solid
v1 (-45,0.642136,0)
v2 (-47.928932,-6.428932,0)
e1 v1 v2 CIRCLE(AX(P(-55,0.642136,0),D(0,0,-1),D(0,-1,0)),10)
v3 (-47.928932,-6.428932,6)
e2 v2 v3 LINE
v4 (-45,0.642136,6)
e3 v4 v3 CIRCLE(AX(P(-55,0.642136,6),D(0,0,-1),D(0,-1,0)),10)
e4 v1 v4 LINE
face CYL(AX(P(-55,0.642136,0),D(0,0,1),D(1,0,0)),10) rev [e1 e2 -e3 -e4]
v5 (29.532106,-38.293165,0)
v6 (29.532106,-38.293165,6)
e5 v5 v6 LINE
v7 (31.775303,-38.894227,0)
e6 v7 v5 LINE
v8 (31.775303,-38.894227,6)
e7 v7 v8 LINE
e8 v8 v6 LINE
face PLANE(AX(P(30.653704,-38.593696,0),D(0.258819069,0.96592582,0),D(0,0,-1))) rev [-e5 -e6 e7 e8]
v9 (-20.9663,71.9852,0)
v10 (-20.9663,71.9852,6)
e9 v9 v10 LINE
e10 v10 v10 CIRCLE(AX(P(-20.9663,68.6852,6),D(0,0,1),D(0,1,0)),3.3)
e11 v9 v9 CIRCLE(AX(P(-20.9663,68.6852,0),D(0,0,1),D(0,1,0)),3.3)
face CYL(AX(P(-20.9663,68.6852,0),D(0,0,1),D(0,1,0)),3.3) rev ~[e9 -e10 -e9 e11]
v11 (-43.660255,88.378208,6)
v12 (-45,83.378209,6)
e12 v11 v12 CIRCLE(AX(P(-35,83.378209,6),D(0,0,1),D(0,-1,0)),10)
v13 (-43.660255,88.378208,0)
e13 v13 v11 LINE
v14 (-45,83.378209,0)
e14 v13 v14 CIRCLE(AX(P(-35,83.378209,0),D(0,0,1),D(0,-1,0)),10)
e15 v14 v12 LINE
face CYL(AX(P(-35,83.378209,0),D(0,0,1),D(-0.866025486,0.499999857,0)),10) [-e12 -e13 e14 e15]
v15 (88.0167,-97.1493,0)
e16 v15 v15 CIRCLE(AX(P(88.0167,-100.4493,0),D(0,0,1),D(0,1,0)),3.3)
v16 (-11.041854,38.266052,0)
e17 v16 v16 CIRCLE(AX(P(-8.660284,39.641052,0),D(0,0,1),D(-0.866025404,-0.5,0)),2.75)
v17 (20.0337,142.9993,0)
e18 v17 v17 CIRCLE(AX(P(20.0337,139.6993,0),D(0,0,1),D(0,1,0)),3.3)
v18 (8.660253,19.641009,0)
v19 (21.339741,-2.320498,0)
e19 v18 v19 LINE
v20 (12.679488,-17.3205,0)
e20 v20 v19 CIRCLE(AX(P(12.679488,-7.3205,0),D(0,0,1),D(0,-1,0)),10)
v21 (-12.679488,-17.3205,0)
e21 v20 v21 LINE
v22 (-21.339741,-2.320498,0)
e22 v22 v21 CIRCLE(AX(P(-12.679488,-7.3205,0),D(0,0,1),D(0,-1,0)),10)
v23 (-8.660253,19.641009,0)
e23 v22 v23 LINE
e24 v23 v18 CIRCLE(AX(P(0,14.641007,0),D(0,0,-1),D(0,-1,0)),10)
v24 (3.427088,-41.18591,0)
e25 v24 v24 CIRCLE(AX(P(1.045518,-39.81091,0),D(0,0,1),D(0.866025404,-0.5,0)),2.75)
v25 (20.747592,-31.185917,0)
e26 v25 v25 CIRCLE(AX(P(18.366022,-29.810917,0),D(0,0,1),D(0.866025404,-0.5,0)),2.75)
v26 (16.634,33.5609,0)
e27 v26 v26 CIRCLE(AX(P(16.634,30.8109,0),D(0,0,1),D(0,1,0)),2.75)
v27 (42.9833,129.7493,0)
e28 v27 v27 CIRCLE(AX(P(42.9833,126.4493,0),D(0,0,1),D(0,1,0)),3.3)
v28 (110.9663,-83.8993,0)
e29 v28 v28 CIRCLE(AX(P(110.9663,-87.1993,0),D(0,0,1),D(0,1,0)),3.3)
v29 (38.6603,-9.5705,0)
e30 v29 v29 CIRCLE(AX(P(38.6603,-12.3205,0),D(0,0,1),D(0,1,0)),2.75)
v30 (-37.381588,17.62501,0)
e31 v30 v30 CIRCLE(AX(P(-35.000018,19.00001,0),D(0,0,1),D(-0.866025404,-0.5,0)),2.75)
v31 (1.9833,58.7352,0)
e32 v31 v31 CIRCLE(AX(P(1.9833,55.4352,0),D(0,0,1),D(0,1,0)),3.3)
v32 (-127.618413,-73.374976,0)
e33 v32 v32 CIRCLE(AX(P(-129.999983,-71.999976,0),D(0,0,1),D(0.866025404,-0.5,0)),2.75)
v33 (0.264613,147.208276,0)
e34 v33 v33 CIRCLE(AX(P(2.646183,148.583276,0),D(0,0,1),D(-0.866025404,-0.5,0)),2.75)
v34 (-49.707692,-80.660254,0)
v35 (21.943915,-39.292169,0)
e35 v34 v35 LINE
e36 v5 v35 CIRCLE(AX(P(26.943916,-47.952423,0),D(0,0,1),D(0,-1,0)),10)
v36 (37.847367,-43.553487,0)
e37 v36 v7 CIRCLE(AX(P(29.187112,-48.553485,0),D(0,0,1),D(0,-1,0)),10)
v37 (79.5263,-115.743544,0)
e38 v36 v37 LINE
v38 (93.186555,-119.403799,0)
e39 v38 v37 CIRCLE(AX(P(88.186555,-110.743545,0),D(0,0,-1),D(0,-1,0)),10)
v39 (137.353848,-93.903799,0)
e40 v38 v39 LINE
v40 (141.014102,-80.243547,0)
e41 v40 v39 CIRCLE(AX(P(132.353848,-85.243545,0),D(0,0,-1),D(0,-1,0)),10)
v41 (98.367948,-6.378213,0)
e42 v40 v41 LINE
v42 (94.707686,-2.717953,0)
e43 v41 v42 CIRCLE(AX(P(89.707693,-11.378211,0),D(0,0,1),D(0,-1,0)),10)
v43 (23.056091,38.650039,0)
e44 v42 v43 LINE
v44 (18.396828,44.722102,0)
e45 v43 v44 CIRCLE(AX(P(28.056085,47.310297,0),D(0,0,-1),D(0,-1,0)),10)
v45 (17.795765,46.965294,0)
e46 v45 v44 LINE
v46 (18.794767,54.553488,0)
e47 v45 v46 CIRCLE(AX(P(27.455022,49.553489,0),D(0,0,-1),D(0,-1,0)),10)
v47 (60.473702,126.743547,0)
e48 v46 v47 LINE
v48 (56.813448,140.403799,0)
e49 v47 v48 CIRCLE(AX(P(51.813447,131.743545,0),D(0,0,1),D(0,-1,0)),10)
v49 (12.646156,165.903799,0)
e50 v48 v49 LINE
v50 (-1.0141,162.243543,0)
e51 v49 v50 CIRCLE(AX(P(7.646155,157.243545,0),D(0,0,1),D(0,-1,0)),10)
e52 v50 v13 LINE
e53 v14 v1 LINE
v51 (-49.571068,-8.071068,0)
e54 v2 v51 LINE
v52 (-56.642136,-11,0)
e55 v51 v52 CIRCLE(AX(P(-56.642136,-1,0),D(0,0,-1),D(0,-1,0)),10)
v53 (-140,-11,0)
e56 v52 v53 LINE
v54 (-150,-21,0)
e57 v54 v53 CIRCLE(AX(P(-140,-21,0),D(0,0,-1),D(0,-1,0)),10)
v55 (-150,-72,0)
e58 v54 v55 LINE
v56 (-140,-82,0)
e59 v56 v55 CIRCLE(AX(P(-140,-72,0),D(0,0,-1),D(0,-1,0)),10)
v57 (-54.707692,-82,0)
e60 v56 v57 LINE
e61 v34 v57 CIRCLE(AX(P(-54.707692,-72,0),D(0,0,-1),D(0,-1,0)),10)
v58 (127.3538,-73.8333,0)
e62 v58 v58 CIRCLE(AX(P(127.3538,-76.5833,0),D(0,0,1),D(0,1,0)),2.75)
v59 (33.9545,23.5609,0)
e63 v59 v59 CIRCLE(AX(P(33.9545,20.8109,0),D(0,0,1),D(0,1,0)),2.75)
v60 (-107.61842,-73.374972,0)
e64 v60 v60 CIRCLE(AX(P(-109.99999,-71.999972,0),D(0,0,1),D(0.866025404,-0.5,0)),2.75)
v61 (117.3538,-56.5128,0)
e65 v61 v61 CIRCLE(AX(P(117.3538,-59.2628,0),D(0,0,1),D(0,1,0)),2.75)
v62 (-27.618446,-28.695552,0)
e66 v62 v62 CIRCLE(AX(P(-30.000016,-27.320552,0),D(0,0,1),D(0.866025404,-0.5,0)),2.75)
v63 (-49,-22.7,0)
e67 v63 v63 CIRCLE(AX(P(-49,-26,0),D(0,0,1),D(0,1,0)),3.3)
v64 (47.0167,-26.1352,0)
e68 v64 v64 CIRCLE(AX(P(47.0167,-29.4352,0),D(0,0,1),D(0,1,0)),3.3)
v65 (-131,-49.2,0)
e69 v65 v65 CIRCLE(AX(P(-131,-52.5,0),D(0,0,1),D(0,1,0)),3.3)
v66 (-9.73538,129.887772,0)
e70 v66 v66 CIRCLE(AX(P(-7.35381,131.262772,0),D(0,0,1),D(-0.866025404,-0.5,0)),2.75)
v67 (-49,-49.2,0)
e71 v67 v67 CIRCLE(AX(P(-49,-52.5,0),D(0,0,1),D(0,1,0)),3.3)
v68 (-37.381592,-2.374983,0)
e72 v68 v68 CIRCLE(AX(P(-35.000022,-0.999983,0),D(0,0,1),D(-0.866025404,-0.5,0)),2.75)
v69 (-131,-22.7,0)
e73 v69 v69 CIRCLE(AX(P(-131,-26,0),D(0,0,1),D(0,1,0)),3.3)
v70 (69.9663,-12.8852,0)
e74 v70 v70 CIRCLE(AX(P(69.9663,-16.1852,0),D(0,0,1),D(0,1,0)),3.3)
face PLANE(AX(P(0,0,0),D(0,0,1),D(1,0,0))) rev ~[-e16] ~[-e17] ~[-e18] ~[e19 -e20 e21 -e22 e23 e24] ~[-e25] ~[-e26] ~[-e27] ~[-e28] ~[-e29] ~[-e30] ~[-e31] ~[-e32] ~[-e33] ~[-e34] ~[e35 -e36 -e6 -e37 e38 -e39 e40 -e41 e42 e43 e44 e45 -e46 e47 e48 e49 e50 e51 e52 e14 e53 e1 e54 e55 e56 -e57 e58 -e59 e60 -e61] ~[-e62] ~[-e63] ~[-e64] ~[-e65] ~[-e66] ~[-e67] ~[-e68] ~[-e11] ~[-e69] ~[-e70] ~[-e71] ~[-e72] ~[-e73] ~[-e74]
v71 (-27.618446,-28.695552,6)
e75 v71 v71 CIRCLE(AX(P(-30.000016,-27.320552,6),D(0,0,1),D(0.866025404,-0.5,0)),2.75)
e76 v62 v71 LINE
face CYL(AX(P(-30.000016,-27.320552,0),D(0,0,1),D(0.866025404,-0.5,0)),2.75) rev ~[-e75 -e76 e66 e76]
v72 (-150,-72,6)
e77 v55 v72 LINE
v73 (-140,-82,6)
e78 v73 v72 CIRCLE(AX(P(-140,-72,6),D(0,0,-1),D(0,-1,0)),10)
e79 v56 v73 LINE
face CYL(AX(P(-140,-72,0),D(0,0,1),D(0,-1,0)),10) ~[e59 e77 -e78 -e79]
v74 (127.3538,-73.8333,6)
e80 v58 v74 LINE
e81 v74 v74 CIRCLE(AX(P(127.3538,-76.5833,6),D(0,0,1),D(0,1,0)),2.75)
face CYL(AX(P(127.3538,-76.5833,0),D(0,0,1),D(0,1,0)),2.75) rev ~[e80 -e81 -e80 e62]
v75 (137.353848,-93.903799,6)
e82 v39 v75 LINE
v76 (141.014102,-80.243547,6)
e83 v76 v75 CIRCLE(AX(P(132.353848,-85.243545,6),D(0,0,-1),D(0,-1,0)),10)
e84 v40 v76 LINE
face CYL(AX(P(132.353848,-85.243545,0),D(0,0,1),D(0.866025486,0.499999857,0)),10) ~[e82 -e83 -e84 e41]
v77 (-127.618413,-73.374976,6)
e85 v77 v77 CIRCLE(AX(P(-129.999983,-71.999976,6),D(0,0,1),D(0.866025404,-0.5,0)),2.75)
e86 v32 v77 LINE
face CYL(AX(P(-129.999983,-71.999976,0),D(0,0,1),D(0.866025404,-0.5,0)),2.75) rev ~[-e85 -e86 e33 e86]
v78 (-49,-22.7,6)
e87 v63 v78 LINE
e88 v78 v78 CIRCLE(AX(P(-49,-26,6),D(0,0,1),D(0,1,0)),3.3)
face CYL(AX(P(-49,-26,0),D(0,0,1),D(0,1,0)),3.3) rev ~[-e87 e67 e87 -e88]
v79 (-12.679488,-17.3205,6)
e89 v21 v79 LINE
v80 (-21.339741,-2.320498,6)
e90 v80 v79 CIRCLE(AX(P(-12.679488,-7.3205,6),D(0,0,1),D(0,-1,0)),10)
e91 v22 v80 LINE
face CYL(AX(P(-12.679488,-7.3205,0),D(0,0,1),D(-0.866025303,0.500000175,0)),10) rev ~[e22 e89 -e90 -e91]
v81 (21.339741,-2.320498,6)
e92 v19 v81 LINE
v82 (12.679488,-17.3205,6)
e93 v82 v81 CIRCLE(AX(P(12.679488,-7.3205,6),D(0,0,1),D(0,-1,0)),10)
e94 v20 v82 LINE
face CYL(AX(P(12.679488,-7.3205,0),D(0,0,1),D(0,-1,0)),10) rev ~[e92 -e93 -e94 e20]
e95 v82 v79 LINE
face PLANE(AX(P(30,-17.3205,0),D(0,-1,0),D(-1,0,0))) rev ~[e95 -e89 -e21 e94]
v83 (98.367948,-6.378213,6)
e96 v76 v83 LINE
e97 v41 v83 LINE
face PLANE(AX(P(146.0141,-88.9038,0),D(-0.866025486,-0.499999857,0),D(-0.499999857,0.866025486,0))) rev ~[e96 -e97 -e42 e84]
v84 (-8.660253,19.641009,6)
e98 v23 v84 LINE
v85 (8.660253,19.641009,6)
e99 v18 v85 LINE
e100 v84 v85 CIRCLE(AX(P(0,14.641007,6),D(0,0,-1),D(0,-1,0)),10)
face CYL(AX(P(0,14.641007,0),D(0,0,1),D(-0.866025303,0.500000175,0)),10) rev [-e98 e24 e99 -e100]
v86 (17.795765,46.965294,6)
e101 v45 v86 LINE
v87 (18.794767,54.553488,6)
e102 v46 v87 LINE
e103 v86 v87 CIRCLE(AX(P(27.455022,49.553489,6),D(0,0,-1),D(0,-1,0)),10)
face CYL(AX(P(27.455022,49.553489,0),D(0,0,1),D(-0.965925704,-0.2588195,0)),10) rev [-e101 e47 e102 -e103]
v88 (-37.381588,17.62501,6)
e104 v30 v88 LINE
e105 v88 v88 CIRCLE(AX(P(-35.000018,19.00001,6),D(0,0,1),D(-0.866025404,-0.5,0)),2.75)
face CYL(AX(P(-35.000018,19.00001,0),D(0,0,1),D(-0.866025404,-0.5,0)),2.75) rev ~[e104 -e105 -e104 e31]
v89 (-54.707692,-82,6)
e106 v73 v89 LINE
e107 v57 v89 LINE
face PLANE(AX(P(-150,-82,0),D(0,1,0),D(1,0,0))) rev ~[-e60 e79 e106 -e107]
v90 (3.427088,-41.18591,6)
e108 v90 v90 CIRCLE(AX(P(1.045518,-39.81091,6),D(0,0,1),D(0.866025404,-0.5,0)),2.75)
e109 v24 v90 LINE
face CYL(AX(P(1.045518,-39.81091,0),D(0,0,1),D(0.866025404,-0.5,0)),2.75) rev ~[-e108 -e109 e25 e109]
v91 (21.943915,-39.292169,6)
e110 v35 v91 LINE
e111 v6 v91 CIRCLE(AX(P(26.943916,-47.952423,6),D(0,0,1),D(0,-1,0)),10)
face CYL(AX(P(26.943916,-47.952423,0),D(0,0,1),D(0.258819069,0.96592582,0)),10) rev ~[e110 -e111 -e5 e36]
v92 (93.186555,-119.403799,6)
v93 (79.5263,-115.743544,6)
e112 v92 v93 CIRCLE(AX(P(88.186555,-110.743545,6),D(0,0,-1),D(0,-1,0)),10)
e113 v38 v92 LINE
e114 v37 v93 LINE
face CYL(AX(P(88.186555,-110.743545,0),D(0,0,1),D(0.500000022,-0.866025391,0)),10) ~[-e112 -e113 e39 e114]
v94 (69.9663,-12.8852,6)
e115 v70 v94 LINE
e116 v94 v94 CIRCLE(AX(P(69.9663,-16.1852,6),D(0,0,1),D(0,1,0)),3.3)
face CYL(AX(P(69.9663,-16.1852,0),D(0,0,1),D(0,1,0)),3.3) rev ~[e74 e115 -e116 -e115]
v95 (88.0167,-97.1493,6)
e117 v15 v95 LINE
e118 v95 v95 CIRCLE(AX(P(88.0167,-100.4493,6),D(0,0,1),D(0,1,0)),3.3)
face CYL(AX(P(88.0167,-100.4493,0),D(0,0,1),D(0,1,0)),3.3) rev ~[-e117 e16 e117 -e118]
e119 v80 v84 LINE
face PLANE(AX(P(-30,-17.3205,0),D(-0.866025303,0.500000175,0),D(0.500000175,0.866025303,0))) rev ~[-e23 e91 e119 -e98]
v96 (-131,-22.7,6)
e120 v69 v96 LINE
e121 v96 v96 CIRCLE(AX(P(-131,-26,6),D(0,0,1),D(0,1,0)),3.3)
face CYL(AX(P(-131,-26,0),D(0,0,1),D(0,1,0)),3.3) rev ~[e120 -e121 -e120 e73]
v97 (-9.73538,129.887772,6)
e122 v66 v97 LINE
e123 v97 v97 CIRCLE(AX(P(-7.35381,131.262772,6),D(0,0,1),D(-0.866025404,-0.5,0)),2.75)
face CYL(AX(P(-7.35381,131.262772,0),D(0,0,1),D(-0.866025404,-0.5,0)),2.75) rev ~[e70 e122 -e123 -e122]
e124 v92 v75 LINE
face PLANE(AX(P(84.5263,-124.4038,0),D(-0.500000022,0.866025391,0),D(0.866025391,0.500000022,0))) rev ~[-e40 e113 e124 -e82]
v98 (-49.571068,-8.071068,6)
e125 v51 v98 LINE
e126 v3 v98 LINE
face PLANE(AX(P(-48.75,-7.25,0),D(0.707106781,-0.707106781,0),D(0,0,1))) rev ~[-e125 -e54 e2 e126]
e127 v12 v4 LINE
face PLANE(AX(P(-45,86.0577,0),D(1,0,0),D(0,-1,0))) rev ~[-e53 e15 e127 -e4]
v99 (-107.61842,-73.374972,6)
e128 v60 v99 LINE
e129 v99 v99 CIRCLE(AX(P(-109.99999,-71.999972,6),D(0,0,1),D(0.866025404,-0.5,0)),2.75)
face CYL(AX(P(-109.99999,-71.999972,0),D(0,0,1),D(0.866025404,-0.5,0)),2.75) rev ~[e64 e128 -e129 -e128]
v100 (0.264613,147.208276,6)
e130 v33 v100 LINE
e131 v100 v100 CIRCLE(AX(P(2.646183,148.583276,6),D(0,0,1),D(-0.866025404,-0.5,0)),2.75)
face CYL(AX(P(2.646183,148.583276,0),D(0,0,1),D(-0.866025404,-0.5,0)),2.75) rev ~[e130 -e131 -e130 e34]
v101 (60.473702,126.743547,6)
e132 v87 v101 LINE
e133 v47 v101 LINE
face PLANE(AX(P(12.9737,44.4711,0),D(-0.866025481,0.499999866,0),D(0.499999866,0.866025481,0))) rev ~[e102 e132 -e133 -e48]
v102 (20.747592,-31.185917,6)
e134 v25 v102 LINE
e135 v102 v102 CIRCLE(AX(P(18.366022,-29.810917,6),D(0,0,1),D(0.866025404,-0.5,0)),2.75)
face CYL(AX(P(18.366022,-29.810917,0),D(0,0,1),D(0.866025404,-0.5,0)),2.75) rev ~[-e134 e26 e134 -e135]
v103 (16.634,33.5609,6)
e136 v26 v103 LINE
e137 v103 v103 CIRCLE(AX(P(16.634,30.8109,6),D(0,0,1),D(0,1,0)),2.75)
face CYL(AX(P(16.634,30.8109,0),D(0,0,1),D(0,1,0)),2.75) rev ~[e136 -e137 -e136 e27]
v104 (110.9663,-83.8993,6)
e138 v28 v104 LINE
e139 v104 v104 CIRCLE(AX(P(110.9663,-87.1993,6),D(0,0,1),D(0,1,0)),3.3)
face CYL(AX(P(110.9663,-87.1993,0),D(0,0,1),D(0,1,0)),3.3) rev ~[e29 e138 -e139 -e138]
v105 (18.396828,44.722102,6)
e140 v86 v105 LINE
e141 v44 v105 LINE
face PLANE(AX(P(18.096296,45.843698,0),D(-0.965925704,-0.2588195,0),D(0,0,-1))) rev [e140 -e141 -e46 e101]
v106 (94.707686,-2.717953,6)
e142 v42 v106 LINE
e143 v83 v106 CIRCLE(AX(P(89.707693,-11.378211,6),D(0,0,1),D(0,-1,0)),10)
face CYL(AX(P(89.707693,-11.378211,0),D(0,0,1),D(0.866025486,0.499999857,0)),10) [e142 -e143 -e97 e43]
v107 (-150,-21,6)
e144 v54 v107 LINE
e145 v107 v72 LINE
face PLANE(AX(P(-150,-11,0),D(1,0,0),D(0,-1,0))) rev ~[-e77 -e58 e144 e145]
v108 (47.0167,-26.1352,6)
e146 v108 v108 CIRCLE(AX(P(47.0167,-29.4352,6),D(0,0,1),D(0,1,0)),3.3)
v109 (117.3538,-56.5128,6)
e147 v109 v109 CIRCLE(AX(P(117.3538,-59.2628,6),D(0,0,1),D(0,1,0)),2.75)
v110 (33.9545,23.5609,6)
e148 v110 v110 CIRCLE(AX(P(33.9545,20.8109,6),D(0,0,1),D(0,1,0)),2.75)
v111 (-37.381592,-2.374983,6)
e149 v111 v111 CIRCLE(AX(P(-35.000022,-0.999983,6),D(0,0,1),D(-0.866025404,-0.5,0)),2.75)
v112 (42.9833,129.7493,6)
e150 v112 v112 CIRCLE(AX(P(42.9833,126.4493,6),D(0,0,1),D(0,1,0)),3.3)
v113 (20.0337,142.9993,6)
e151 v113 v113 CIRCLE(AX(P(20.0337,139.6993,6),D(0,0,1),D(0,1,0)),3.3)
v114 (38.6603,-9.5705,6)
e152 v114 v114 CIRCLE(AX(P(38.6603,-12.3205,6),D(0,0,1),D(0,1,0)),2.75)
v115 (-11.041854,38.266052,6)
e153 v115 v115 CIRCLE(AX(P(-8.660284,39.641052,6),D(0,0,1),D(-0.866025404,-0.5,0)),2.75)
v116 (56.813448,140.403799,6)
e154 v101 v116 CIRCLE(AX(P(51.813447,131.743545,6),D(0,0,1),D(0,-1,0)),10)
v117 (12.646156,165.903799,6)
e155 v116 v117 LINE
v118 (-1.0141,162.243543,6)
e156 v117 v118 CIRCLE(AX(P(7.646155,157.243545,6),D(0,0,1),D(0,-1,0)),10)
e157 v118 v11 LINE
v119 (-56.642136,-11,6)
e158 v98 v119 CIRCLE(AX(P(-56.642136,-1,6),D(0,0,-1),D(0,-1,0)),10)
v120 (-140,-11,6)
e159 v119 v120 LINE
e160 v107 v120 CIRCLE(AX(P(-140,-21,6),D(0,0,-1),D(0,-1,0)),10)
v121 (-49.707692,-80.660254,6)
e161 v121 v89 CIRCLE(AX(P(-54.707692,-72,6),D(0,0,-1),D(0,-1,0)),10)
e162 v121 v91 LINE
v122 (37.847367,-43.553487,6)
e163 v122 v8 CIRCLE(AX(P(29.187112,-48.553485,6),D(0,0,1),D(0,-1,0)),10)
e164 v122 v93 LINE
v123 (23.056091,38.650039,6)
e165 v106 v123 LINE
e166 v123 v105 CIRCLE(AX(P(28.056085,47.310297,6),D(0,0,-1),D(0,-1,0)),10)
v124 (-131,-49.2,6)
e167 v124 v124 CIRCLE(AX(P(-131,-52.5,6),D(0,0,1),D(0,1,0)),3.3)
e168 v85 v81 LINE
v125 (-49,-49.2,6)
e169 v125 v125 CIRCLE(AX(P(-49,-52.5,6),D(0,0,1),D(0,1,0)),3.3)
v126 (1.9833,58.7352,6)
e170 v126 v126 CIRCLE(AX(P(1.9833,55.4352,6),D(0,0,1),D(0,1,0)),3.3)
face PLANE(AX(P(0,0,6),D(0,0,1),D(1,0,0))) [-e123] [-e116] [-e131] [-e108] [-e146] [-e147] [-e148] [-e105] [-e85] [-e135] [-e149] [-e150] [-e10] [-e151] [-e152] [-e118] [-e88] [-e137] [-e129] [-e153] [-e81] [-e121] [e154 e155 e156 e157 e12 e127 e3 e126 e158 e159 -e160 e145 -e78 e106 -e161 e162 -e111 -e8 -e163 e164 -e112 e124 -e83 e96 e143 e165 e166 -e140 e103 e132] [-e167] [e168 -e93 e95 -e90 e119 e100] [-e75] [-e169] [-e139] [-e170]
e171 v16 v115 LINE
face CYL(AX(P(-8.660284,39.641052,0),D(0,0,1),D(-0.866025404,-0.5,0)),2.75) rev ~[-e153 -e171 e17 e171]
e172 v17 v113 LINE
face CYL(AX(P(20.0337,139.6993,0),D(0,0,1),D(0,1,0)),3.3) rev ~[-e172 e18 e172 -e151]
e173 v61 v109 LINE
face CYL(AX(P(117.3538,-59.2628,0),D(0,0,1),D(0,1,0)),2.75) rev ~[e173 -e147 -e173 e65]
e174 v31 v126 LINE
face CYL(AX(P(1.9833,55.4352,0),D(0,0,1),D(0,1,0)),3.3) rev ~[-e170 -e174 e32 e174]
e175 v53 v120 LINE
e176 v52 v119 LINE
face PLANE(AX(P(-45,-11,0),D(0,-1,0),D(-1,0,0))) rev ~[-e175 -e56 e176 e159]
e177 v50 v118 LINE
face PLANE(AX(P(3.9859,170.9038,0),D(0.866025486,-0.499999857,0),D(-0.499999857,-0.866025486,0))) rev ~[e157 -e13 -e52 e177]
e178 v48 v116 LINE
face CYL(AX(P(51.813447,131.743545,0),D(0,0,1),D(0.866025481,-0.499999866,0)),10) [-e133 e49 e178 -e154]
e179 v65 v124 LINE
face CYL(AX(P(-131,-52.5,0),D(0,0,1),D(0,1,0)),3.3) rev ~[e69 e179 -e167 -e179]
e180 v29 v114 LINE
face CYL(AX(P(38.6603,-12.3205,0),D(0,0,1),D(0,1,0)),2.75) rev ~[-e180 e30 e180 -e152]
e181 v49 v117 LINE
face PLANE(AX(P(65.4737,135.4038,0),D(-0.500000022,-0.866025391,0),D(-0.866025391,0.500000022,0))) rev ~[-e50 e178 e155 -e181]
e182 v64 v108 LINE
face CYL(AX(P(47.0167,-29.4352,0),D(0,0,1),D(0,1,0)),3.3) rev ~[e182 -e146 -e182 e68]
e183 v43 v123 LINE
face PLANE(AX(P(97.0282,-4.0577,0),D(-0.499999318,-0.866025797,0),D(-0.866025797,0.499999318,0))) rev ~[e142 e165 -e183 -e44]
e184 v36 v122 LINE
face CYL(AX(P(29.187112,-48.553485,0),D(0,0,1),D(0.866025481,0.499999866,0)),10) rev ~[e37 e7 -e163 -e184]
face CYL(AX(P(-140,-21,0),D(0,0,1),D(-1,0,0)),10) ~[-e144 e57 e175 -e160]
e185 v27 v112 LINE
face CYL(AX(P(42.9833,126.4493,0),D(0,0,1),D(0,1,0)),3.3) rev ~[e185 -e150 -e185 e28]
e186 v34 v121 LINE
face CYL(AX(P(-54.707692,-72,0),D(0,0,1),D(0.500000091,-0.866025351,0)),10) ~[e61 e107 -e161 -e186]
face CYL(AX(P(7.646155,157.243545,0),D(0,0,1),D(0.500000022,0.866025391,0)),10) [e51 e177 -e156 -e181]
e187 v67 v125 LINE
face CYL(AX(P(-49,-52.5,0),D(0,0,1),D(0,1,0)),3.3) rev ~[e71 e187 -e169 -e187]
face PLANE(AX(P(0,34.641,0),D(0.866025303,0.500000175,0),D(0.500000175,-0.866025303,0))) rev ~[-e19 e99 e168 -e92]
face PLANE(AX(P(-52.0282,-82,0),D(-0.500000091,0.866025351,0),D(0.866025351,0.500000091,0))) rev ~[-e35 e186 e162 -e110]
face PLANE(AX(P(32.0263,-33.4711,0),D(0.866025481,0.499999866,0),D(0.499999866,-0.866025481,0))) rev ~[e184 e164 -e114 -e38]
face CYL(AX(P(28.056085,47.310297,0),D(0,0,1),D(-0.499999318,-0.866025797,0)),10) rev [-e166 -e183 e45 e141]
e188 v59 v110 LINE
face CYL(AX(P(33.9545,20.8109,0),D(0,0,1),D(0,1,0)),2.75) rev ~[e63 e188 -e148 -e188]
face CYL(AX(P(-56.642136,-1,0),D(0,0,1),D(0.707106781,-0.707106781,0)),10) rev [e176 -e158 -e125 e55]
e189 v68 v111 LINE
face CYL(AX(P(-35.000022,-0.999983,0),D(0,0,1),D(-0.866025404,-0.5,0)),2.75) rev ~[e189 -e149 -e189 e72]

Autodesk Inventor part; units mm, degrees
ref_plane "YZ Plane" through (0, 0, 0) normal (1, 0, 0) x (0, 1, 0)
ref_plane "XZ Plane" through (0, 0, 0) normal (0, 1, 0) x (-1, 0, 0)
ref_plane "XY Plane" through (0, 0, 0) normal (0, 0, 1) x (1, 0, 0)
sketch "Sketch1" plane through (0, 0, 0) normal (0, 0, 1) x (1, 0, 0)
  line L0 (-131, -26) -> (-49, -26) construction
  line L1 (-49, -26) -> (-49, -52.5) construction
  line L2 (-49, -52.5) -> (-131, -52.5) construction
  line L3 (-131, -52.5) -> (-131, -26) construction
  line L4 (-90, -26) -> (-90, 12) construction
  line L5 (-140, -12) -> (-40, -12) construction
  line L6 (-40, -12) -> (-40, -62) construction
  line L7 (-40, -62) -> (-140, -62) construction
  line L8 (-140, -62) -> (-140, -12) construction
  line L9 (-140, -18) -> (-40, -18) construction
  line L10 (-90, -12) -> (-90, 12) construction
  line L11 (0, 0) -> (-90, 0) construction
  line L12 (-30, -17.3205) -> (0, 34.641)
  line L13 (0, 34.641) -> (30, -17.3205)
  line L14 (30, -17.3205) -> (-30, -17.3205)
  line L15 (0, -17.3205) -> (0, 34.641) construction
  line L16 (-15, 8.6603) -> (30, -17.3205) construction
  line L17 (15, 8.6603) -> (-30, -17.3205) construction
  line L18 (80.3923, -115.2436) -> (30.3923, -28.641) construction
  line L19 (123.6936, -90.2436) -> (80.3923, -115.2436) construction
  line L20 (73.6936, -3.641) -> (123.6936, -90.2436) construction
  line L21 (30.3923, -28.641) -> (73.6936, -3.641) construction
  line L22 (67.5167, -64.9423) -> (34.6077, -83.9423) construction
  line L23 (59.6077, 127.2436) -> (9.6077, 40.641) construction
  line L24 (16.3064, 152.2436) -> (59.6077, 127.2436) construction
  line L25 (-33.6936, 65.641) -> (16.3064, 152.2436) construction
  line L26 (9.6077, 40.641) -> (-33.6936, 65.641) construction
  line L27 (22.4833, 90.9423) -> (55.3923, 71.9423) construction
  line L28 (3.9859, 170.9038) -> (-45, 86.0577)
  line L29 (-45, 86.0577) -> (-45, -11)
  line L30 (-45, -11) -> (-150, -11)
  line L31 (-150, -11) -> (-150, -82)
  line L32 (-52.0282, -82) -> (32.0263, -33.4711)
  line L33 (84.5263, -124.4038) -> (146.0141, -88.9038)
  line L34 (32.0263, -33.4711) -> (84.5263, -124.4038)
  line L35 (-150, -82) -> (-52.0282, -82)
  line L36 (97.0282, -4.0577) -> (12.9737, 44.4711)
  line L37 (65.4737, 135.4038) -> (3.9859, 170.9038)
  line L38 (12.9737, 44.4711) -> (65.4737, 135.4038)
  line L39 (146.0141, -88.9038) -> (97.0282, -4.0577)
  point P0 (-90, -18)
  point P1 (55.3923, -71.9423)
  point P2 (85.5885, -112.2436)
  point P3 (35.5885, -25.641)
  point P4 (110.9663, -87.1993)
  point P5 (69.9663, -16.1852)
  point P6 (47.0167, -29.4352)
  point P7 (88.0167, -100.4493)
  point P8 (34.6077, 83.9423)
  point P9 (54.4115, 130.2436)
  point P10 (4.4115, 43.641)
  point P11 (20.0337, 139.6993)
  point P12 (-20.9663, 68.6852)
  point P13 (1.9833, 55.4352)
  point P14 (42.9833, 126.4493)
  point P15 (3.9859, 170.9038)
  point P16 (-150, -82)
  point P17 (146.0141, -88.9038)
  dimension "d0" = 26.5
  dimension "d1" = 82
  dimension "d2" = 9.5
  dimension "d3" = 100
  dimension "d4" = 50
  dimension "d5" = 6
  dimension "d6" = 30
  dimension "d7" = 90
  dimension "d8" = 60
  dimension "d11" = 360
  dimension "d13" = 20
  dimension "d14" = 1
  dimension "d15" = 10
  dimension "d16" = 20
  dimension "d17" = 10
  dimension "d18" = 5
  dimension "d21" = 360
extrude "Extrusion1" add sketch "Sketch1" along normal blind 6
hole "Hole1" at (-131, -26, 0) at (-49, -26, 0) at (-49, -52.5, 0) at (-131, -52.5, 0) at (110.9663, -87.1993, 0) at (69.9663, -16.1852, 0) at (47.0167, -29.4352, 0) at (88.0167, -100.4493, 0) at (20.0337, 139.6993, 0) at (-20.9663, 68.6852, 0) at (1.9833, 55.4352, 0) at (42.9833, 126.4493, 0) direction (0, 0, 1) diameter 6.6 end through all clearance for "Socket Head Cap Screw" size "M6" standard "Ansi Metric M Profile"
chamfer "Chamfer1" distance 7.5 angle 45 3 edges at (32.0263, -33.4711, 3) (12.9737, 44.4711, 3) (-45, -11, 3)
fillet "Fillet1" radius 10 6 edges at (84.5263, -124.4038, 3) (146.0141, -88.9038, 3) (-52.0282, -82, 3) (35.7763, -39.9663, 3) (25.5311, -37.2211, 3) (30, -17.3205, 3)
pattern_circular "Circular Pattern1" count 3 over 360 about axis through (0, 0, -10) along (0, 0, 1) of "Fillet1"
sketch "Sketch2" plane through (0, 0, 6) normal (0, 0, 1) x (1, 0, 0)
  point P0 (0, 0)
sketch "Sketch3" plane through (0, 0, 0) normal (0, 0, -1) x (-1, 0, 0)
  line L0 (-94.7077, -2.718) -> (-23.0561, 38.6501) projected
  line L1 (-141.0141, -80.2436) -> (-98.3679, -6.3782) projected
  line L2 (-93.1865, -119.4038) -> (-137.3538, -93.9038) projected
  line L3 (-8.6603, 19.641) -> (-21.3397, -2.3205) projected
  line L4 (-37.8473, -43.5535) -> (-79.5263, -115.7436) projected
  line L5 (-18.7948, 54.5535) -> (-60.4737, 126.7436) projected
  line L6 (-123.6936, -90.2436) -> (-113.6936, -72.923)
  line L7 (-113.6936, -72.923) -> (-131.0141, -62.923)
  line L8 (-131.0141, -62.923) -> (-141.0141, -80.2436)
  line L9 (-141.0141, -80.2436) -> (-123.6936, -90.2436)
  line L10 (-123.6936, -90.2436) -> (-131.0141, -62.923) construction
  line L11 (-113.6936, -72.923) -> (-141.0141, -80.2436) construction
  point P0 (0, 0)
  point P1 (-117.3538, -59.2628)
  point P2 (-127.3538, -76.5833)
  point P3 (-33.9545, 20.8109)
  point P4 (-16.634, 30.8109)
  point P5 (-38.6603, -12.3205)
  dimension "d39" = 10
  dimension "d40" = 10
  dimension "d41" = 20
  dimension "d42" = 20
  dimension "d43" = 10
  dimension "d44" = 10
  dimension "d46" = 10
  dimension "d47" = 20
  dimension "d49" = 120
  dimension "d50" = 30
  dimension "d58" = 20
  dimension "d59" = 20
hole "Hole2" at (38.6603, -12.3205, 0) at (33.9545, 20.8109, 0) at (16.634, 30.8109, 0) at (127.3538, -76.5833, 0) at (117.3538, -59.2628, 0) direction (0, 0, 1) diameter 5.5 end through all clearance for "Socket Head Cap Screw" size "M5" standard "Ansi Metric M Profile"
pattern_circular "Circular Pattern2" count 3 over 360 about axis through (0, 0, -10) along (0, 0, 1) of "Hole2"
equation "\"d44\" = d43"
properties part number "RT_FRM_MC_V3_MotorBase"
